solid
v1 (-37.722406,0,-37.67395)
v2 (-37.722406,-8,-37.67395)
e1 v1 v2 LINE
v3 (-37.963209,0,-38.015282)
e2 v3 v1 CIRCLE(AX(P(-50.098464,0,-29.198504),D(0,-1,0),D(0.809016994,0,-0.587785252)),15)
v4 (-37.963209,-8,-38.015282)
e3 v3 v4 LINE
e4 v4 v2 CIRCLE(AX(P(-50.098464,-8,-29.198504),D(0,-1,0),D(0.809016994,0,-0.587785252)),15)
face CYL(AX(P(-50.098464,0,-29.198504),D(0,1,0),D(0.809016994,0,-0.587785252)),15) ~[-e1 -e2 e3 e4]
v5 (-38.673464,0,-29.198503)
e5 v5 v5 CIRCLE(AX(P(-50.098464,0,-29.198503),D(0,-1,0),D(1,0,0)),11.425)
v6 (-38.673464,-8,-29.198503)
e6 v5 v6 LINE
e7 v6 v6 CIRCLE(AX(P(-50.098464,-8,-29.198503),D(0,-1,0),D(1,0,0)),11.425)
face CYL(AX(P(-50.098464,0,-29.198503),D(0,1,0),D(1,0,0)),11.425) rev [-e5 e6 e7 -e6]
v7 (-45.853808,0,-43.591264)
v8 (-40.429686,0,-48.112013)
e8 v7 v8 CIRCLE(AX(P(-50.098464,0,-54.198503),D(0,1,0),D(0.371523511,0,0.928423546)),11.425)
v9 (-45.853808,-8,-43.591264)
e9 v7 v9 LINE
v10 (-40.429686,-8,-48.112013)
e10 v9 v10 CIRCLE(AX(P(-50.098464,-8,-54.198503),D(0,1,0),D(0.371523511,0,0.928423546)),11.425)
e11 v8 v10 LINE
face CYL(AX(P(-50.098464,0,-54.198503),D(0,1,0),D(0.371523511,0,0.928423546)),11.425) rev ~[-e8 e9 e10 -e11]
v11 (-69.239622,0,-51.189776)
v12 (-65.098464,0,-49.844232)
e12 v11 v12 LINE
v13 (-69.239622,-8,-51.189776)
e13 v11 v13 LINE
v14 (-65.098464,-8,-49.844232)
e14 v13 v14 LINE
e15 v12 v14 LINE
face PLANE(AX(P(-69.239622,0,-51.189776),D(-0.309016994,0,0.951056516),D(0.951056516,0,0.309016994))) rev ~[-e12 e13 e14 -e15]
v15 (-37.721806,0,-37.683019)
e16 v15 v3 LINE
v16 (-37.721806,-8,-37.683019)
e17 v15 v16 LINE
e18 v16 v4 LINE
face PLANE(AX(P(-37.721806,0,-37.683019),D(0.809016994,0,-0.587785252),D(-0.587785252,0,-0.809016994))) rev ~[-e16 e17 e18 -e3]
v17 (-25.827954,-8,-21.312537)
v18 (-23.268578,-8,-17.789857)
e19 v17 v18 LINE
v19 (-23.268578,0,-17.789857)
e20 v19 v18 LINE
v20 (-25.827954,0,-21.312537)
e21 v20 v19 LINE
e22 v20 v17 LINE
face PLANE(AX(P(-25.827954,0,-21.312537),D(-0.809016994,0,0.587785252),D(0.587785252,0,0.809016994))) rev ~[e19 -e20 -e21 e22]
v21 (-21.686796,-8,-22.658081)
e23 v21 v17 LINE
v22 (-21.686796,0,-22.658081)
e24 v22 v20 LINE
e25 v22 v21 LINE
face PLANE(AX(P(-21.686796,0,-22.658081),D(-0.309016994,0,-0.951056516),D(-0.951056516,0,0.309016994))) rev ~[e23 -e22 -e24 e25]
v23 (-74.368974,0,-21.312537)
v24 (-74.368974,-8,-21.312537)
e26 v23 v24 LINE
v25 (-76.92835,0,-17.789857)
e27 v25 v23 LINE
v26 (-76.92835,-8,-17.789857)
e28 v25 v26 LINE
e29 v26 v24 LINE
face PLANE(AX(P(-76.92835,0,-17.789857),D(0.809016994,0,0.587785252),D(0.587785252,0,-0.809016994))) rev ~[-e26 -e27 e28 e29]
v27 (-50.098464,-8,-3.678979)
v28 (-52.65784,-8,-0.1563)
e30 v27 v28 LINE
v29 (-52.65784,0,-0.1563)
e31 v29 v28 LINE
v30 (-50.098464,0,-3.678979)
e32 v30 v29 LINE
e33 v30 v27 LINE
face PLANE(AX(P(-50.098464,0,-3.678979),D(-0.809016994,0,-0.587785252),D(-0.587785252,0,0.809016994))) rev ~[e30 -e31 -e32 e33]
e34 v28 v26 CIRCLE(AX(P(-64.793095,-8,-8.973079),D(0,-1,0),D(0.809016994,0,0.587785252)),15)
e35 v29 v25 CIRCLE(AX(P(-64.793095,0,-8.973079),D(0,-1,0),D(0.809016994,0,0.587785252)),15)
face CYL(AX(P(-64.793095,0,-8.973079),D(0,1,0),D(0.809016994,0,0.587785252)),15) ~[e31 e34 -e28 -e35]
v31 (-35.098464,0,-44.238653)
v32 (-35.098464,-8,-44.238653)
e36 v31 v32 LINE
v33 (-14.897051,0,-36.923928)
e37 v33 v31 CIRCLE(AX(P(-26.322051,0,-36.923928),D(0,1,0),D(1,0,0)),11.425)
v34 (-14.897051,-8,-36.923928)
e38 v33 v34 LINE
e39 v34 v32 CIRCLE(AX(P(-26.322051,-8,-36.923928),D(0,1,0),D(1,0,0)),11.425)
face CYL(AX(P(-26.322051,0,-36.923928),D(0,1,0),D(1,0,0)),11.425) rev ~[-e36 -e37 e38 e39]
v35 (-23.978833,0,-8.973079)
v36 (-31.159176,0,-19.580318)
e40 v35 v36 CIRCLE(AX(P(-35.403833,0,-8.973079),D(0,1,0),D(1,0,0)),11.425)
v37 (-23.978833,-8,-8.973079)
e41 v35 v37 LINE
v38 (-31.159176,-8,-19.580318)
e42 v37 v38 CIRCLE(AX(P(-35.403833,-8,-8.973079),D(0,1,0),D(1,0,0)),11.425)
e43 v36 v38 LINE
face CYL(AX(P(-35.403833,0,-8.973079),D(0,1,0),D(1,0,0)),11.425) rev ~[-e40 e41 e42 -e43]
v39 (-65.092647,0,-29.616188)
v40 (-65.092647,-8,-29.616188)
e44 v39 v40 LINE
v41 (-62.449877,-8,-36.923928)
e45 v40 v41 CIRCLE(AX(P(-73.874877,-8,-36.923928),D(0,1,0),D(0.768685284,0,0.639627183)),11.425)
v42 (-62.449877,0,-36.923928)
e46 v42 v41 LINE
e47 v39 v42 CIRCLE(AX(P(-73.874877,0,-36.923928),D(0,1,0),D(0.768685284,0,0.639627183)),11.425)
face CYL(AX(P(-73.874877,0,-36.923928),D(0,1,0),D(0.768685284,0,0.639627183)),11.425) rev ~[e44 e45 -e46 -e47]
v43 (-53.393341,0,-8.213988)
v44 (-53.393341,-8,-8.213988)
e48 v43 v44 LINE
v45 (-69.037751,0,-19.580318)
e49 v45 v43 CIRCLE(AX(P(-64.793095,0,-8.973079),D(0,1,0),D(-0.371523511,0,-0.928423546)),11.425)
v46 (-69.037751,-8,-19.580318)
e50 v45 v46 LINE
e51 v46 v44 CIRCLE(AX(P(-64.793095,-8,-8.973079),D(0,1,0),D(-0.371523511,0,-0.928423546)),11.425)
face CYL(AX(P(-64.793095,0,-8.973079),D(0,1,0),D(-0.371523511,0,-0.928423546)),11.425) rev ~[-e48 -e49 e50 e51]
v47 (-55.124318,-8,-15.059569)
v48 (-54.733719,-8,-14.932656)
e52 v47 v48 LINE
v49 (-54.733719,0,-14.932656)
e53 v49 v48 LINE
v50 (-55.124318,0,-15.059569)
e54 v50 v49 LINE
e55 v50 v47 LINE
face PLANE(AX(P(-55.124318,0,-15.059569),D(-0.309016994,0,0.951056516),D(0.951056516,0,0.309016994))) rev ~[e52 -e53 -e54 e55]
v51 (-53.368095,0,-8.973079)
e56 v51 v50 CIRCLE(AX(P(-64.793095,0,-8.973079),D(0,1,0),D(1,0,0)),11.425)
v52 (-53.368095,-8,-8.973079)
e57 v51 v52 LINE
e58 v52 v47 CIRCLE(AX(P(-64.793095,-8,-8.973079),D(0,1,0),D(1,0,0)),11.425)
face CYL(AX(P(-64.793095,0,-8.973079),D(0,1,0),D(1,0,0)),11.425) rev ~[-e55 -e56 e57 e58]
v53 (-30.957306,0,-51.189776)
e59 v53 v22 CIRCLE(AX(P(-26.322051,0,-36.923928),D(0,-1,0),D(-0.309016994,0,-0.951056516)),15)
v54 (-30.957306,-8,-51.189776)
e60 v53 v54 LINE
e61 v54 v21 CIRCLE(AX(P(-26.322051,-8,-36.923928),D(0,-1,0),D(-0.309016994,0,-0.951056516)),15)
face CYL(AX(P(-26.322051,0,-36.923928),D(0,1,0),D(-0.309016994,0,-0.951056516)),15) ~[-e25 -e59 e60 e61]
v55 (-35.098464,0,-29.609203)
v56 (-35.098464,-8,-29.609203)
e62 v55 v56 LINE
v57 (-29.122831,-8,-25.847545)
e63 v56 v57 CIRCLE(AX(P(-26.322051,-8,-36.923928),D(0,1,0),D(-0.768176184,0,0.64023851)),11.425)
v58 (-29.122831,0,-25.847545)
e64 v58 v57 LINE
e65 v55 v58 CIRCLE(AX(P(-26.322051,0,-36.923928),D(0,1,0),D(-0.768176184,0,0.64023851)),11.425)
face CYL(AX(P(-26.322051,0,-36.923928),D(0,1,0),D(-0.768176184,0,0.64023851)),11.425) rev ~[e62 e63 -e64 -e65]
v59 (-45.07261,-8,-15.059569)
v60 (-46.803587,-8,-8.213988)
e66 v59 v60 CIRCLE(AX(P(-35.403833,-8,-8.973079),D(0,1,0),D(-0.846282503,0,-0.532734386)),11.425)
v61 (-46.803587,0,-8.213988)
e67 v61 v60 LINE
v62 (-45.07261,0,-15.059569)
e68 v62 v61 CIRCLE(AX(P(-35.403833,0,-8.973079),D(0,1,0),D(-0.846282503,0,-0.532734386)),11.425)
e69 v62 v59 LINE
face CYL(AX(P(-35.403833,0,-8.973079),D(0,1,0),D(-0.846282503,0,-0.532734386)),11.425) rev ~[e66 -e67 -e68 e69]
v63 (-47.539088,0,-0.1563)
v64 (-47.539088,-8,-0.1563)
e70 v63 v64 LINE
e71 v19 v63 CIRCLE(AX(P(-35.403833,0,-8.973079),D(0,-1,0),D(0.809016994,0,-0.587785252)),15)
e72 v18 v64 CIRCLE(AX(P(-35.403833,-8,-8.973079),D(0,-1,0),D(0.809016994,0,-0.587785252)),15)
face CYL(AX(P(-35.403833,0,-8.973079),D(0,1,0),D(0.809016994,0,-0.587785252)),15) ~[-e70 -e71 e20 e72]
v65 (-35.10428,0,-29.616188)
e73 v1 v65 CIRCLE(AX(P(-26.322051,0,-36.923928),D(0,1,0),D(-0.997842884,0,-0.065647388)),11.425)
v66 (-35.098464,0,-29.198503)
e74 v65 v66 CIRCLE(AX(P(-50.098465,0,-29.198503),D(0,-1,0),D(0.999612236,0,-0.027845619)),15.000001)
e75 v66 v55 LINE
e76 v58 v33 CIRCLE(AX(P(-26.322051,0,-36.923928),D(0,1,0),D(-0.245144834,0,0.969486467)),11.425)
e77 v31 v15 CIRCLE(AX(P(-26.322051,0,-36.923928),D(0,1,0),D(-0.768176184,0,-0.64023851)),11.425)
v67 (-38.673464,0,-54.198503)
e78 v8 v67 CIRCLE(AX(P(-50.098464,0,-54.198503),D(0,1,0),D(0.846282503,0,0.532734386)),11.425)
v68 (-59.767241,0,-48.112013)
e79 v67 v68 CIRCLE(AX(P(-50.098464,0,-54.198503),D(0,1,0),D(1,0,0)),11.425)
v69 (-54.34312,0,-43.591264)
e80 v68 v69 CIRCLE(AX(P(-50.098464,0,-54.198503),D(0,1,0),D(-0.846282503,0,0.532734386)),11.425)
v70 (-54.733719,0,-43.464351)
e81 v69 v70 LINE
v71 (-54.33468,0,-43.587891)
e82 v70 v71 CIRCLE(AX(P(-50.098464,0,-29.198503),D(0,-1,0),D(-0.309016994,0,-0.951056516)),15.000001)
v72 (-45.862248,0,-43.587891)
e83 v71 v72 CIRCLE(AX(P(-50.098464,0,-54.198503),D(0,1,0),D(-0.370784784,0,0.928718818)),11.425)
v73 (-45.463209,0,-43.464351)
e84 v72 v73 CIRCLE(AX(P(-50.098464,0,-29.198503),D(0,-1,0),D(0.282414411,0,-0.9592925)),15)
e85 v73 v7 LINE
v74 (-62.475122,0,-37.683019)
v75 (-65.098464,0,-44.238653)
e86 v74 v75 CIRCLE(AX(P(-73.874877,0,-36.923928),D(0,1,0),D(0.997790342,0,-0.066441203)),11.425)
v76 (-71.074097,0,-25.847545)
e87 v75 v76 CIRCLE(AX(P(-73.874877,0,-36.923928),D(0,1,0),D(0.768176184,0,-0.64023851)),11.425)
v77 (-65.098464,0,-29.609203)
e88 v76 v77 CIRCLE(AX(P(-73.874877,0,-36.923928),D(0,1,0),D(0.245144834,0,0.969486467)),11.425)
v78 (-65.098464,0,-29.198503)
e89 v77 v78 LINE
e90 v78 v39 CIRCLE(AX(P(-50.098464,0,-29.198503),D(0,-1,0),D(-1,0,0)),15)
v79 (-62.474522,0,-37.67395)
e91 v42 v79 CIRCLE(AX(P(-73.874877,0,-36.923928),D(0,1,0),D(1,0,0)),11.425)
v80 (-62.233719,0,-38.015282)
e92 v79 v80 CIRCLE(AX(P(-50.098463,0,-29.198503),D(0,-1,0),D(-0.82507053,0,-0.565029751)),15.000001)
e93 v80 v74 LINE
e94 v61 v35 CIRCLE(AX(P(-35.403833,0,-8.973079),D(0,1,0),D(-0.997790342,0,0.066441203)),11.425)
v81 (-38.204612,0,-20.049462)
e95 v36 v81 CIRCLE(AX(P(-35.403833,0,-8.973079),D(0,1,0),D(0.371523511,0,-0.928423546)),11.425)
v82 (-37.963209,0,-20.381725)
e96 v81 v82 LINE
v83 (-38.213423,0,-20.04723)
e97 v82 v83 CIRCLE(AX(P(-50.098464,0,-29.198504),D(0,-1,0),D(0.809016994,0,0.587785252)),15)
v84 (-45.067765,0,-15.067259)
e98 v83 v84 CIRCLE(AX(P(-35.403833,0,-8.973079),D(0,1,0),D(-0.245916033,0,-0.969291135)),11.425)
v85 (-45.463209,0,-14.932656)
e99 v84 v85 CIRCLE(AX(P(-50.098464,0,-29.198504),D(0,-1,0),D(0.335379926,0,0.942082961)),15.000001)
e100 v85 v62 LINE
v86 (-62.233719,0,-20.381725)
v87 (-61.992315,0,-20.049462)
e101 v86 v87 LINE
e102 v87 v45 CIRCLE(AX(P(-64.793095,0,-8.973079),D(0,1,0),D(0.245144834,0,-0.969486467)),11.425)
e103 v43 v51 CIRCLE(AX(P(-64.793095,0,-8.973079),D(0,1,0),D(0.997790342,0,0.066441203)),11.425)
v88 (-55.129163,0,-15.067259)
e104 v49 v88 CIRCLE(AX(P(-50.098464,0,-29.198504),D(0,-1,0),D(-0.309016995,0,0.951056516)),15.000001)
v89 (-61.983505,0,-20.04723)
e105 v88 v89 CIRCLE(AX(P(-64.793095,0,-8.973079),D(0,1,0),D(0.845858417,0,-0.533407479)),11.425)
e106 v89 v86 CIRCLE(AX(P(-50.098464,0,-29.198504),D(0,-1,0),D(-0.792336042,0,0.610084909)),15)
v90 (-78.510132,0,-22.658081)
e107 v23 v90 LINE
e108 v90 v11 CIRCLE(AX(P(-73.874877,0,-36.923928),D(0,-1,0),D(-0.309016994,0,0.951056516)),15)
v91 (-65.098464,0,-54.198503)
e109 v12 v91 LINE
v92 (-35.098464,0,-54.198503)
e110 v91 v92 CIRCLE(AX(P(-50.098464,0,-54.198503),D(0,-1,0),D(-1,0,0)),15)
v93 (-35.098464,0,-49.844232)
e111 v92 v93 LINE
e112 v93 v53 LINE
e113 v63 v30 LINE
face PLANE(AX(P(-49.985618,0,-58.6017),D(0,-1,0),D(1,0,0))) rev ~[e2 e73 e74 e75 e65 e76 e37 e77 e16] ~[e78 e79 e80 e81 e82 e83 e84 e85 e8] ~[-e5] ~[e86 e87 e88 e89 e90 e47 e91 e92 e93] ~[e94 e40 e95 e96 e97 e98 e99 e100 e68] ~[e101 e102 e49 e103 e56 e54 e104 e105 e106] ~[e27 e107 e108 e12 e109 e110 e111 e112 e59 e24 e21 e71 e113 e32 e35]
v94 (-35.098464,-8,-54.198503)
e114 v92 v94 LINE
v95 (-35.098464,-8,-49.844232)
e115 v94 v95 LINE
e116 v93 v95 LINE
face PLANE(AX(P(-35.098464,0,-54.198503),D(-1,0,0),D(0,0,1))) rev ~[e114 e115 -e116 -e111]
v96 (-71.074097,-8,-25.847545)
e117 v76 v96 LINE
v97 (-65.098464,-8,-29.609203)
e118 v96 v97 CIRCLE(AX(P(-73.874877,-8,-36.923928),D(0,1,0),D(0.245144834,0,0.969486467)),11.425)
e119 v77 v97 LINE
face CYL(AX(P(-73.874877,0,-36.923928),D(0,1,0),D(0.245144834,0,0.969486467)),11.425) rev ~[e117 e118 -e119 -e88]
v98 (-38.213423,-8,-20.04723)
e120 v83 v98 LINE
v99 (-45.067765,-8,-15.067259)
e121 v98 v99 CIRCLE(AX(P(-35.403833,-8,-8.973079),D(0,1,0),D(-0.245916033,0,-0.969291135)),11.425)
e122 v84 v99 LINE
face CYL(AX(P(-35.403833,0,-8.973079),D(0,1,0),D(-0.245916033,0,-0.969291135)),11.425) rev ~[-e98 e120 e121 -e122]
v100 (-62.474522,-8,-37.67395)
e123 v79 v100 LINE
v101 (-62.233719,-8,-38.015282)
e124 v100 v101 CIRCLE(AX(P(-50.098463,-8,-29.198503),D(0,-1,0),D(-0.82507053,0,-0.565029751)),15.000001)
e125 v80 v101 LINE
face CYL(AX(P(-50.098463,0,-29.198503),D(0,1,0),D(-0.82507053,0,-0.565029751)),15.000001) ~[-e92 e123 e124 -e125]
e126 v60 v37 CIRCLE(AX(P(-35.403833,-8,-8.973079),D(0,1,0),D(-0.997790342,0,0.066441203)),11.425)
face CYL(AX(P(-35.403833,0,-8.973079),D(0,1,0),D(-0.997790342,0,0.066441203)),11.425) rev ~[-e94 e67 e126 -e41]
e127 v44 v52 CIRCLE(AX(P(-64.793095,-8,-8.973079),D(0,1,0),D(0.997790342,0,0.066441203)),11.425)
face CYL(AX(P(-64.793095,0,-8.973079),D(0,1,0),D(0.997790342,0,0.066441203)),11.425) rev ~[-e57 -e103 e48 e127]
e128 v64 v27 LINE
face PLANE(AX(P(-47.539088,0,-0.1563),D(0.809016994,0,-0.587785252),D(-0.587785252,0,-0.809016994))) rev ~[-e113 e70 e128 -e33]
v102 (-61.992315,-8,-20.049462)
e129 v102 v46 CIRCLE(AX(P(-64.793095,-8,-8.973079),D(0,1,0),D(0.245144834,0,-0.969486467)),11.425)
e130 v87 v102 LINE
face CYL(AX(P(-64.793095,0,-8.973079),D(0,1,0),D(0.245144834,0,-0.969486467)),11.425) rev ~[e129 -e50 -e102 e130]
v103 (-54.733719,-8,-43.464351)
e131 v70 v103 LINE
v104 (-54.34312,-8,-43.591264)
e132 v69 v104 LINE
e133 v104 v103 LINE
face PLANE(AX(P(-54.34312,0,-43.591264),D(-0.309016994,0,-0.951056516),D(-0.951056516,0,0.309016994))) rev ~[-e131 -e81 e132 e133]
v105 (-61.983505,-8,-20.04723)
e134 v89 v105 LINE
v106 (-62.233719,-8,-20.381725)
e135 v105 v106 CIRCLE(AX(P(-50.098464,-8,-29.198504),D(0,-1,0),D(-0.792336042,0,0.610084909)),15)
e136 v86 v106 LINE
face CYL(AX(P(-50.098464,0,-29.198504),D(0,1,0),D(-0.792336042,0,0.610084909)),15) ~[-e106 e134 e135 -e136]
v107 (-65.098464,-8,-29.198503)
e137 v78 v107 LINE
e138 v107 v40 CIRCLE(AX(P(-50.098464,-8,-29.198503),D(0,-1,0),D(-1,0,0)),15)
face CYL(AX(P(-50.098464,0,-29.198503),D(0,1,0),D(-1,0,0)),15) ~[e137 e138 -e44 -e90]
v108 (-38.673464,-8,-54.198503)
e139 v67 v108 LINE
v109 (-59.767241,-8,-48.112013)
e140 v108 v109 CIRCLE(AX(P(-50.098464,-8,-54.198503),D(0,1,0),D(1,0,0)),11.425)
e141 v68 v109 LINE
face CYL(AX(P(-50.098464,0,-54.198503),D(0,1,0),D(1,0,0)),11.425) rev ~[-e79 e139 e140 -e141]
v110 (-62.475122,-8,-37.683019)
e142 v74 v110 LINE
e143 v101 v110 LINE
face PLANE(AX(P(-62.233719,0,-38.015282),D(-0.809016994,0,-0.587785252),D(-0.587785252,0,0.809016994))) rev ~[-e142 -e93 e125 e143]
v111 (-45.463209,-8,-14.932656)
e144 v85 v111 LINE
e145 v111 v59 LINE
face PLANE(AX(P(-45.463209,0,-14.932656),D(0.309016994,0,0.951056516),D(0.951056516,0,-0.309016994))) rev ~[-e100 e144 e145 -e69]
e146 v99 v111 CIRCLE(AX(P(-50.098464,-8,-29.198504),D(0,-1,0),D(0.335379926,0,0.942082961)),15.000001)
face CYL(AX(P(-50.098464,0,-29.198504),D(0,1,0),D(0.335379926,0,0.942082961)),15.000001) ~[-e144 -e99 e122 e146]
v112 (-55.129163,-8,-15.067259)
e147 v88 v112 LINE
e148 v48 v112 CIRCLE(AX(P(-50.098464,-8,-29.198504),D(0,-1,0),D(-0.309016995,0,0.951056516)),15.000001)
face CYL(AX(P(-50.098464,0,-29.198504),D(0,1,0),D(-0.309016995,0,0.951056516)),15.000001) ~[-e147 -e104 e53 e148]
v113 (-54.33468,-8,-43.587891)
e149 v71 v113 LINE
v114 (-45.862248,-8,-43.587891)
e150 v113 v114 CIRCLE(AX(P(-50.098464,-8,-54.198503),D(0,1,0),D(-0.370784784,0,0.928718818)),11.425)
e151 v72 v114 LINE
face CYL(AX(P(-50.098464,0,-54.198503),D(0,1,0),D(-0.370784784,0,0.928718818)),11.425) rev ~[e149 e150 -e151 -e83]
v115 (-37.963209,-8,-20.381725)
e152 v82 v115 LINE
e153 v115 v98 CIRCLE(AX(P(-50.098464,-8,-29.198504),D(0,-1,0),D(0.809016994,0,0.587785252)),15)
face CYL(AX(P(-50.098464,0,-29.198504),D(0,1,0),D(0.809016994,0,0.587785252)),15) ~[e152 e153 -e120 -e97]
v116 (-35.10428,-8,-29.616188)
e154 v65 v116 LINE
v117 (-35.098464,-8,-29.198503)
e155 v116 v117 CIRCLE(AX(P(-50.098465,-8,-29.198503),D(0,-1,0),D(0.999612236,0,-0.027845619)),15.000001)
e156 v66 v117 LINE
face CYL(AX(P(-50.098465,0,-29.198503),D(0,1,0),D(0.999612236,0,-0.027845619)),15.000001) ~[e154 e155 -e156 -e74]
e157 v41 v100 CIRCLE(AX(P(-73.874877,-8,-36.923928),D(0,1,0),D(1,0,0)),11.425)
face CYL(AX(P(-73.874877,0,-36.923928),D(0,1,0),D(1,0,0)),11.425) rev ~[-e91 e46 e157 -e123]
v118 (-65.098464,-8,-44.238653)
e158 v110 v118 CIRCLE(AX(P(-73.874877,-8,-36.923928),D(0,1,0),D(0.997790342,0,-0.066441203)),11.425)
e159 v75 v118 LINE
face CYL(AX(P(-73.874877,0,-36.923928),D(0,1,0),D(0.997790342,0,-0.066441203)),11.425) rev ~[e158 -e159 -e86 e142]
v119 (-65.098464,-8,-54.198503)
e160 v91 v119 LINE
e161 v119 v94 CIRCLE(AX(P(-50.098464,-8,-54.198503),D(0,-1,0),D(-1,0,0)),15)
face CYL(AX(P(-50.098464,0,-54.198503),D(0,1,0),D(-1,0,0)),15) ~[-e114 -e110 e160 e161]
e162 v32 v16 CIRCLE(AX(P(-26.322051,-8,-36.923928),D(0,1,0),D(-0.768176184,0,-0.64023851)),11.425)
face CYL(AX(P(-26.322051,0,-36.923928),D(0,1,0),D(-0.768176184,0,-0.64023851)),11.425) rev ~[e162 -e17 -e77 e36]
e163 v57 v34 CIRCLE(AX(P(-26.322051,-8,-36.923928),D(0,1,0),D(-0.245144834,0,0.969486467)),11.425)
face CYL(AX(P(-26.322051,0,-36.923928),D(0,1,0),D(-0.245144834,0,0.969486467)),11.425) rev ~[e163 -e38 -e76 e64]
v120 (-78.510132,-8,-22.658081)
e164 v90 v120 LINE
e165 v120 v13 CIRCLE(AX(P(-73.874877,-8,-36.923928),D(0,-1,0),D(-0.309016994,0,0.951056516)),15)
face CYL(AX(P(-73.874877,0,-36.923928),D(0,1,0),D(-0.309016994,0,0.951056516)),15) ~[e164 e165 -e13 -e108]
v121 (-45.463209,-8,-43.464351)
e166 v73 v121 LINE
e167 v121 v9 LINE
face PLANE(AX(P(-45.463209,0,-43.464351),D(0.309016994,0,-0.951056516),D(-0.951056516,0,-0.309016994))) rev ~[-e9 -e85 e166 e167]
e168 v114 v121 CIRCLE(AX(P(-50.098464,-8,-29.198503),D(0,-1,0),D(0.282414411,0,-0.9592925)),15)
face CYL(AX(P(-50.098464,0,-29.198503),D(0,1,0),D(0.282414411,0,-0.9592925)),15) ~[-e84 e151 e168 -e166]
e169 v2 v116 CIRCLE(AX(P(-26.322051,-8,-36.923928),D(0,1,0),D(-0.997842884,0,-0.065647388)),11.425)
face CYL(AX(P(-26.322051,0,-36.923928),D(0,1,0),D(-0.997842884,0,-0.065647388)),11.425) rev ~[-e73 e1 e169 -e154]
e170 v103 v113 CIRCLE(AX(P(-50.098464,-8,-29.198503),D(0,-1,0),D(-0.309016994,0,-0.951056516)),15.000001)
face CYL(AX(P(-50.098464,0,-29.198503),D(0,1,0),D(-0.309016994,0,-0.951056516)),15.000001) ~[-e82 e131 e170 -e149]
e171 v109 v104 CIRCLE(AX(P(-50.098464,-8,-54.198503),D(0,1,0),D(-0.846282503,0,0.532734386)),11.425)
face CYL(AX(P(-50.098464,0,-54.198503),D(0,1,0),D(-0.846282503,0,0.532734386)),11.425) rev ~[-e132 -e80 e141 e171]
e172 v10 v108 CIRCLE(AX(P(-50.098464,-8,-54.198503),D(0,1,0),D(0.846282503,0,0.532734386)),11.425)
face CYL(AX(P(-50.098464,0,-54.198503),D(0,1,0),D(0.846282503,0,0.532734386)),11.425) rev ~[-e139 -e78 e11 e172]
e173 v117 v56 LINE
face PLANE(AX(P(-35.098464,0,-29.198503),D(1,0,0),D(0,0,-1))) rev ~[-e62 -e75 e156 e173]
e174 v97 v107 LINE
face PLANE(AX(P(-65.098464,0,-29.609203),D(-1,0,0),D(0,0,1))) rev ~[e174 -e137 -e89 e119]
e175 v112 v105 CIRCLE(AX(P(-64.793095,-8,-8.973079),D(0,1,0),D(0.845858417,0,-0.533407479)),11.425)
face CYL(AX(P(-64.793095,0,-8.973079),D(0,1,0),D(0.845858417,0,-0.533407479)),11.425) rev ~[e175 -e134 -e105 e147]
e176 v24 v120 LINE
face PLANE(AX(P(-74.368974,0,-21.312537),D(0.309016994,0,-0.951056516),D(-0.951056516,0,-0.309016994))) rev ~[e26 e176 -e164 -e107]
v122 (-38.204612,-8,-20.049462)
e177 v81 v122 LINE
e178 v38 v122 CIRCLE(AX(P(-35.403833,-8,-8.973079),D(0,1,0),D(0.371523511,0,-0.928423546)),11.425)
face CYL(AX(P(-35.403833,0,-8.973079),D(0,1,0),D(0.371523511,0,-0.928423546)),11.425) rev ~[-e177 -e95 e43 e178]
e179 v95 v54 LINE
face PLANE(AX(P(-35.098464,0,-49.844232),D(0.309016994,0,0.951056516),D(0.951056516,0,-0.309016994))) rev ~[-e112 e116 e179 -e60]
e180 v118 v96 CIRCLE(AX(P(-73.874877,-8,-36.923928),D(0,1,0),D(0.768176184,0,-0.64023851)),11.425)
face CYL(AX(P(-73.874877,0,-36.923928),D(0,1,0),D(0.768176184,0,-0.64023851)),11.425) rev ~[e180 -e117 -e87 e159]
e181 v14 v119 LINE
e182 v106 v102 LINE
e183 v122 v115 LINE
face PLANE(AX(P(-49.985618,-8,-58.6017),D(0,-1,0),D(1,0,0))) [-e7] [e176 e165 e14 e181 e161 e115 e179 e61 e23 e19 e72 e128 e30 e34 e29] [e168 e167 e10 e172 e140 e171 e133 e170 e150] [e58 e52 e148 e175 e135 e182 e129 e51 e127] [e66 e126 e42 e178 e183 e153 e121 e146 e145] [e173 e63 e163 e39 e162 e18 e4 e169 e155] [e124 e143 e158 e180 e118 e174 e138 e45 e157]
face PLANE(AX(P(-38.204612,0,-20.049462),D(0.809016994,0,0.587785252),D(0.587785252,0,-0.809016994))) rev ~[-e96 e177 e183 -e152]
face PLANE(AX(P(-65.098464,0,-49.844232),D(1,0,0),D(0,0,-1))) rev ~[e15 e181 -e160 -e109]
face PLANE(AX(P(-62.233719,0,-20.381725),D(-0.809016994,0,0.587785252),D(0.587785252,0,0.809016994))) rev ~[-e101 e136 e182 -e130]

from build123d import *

# Parameters (mm, degrees)
F0_R     = 11.425
F1_DEPTH = 8


with BuildPart() as f1:
    # F0 (on Front) → F1 (new body)
    with BuildSketch(Plane.XZ):
        with BuildLine():
            ThreePointArc((-40.4296863013, -48.1120131359), (-39.1212964763, -51.0311038498), (-38.6734638929, -54.1985034943))
            ThreePointArc((-38.6734638929, -54.1985034943), (-53.2658635374, -65.1756709109), (-59.7672414846, -48.1120131359))
            Line((-59.7672414846, -48.1120131359), (-65.0984638929, -49.8442323013))
            Line((-65.0984638929, -49.8442323013), (-65.0984638929, -54.1985034943))
            ThreePointArc((-65.0984638929, -54.1985034943), (-50.0984638929, -69.1985034943), (-35.0984638929, -54.1985034943))
            Line((-35.0984638929, -54.1985034943), (-35.0984638929, -49.8442323013))
            Line((-35.0984638929, -49.8442323013), (-40.4296863013, -48.1120131359))
        make_face()
        with BuildLine():
            ThreePointArc((-45.8538077773, -43.5912644821), (-42.7837389166, -45.4220905869), (-40.4296863013, -48.1120131359))
            Line((-40.4296863013, -48.1120131359), (-35.0984638929, -49.8442323013))
            Line((-35.0984638929, -49.8442323013), (-35.0984638929, -44.23865333))
            ThreePointArc((-35.0984638929, -44.23865333), (-36.9292899977, -41.1685844692), (-37.7218056429, -37.6830190937))
            Line((-37.7218056429, -37.6830190937), (-37.9632089773, -38.0152822786))
            ThreePointArc((-37.9632089773, -38.0152822786), (-41.2816851085, -41.3337584099), (-45.4632089773, -43.4643512387))
            Line((-45.4632089773, -43.4643512387), (-45.8538077773, -43.5912644821))
        make_face()
        with BuildLine():
            Line((-65.0984638929, -49.8442323013), (-59.7672414846, -48.1120131359))
            ThreePointArc((-59.7672414846, -48.1120131359), (-57.4131888693, -45.4220905869), (-54.3431200085, -43.5912644821))
            Line((-54.3431200085, -43.5912644821), (-54.7337188086, -43.4643512387))
            ThreePointArc((-54.7337188086, -43.4643512387), (-58.9152426773, -41.3337584099), (-62.2337188086, -38.0152822786))
            Line((-62.2337188086, -38.0152822786), (-62.4751221429, -37.6830190937))
            ThreePointArc((-62.4751221429, -37.6830190937), (-63.2676377882, -41.1685844692), (-65.0984638929, -44.23865333))
            Line((-65.0984638929, -44.23865333), (-65.0984638929, -49.8442323013))
        make_face()
        with BuildLine():
            Line((-35.0984638929, -44.23865333), (-35.0984638929, -49.8442323013))
            Line((-35.0984638929, -49.8442323013), (-30.9573059012, -51.1897760981))
            ThreePointArc((-30.9573059012, -51.1897760981), (-12.0562032411, -41.5591832693), (-21.6867960699, -22.6580806092))
            Line((-21.6867960699, -22.6580806092), (-25.8279540617, -21.3125368125))
            Line((-25.8279540617, -21.3125368125), (-29.1228307116, -25.8475454636))
            ThreePointArc((-29.1228307116, -25.8475454636), (-19.3030867945, -27.9092310939), (-14.8970509856, -36.9239283536))
            ThreePointArc((-14.8970509856, -36.9239283536), (-22.4323140065, -47.6663941429), (-35.0984638929, -44.23865333))
        make_face()
        with BuildLine():
            Line((-69.2396218847, -51.1897760981), (-65.0984638929, -49.8442323013))
            Line((-65.0984638929, -49.8442323013), (-65.0984638929, -44.23865333))
            ThreePointArc((-65.0984638929, -44.23865333), (-84.740697499, -40.4544475144), (-71.0740970743, -25.8475454636))
            Line((-71.0740970743, -25.8475454636), (-74.3689737242, -21.3125368125))
            Line((-74.3689737242, -21.3125368125), (-78.5101317159, -22.6580806092))
            ThreePointArc((-78.5101317159, -22.6580806092), (-88.1407245447, -41.5591832693), (-69.2396218847, -51.1897760981))
        make_face()
        with BuildLine():
            Line((-74.3689737242, -21.3125368125), (-71.0740970743, -25.8475454636))
            ThreePointArc((-71.0740970743, -25.8475454636), (-67.7883864419, -27.255150762), (-65.0984638929, -29.6092033773))
            Line((-65.0984638929, -29.6092033773), (-65.0984638929, -29.1985034943))
            ThreePointArc((-65.0984638929, -29.1985034943), (-64.3643116374, -24.5632485786), (-62.2337188086, -20.3817247099))
            Line((-62.2337188086, -20.3817247099), (-61.9923154742, -20.0494615249))
            ThreePointArc((-61.9923154742, -20.0494615249), (-65.5521859403, -20.3728332923), (-69.0377513159, -19.580317647))
            Line((-69.0377513159, -19.580317647), (-74.3689737242, -21.3125368125))
        make_face()
        with BuildLine():
            Line((-35.0984638929, -29.1985034943), (-35.0984638929, -29.6092033773))
            ThreePointArc((-35.0984638929, -29.6092033773), (-32.408541344, -27.255150762), (-29.1228307116, -25.8475454636))
            Line((-29.1228307116, -25.8475454636), (-25.8279540617, -21.3125368125))
            Line((-25.8279540617, -21.3125368125), (-31.15917647, -19.580317647))
            ThreePointArc((-31.15917647, -19.580317647), (-34.6447418456, -20.3728332923), (-38.2046123117, -20.0494615249))
            Line((-38.2046123117, -20.0494615249), (-37.9632089773, -20.3817247099))
            ThreePointArc((-37.9632089773, -20.3817247099), (-35.8326161485, -24.5632485786), (-35.0984638929, -29.1985034943))
        make_face()
        with BuildLine():
            Line((-31.15917647, -19.580317647), (-25.8279540617, -21.3125368125))
            Line((-25.8279540617, -21.3125368125), (-23.26857767, -17.7898574193))
            ThreePointArc((-23.26857767, -17.7898574193), (-26.5870538012, 3.1621762807), (-47.5390875012, -0.1562998505))
            Line((-47.5390875012, -0.1562998505), (-50.0984638929, -3.6789792437))
            Line((-50.0984638929, -3.6789792437), (-46.803587243, -8.2139878949))
            ThreePointArc((-46.803587243, -8.2139878949), (-35.0240773753, 2.4456082853), (-23.9788325856, -8.9730786349))
            ThreePointArc((-23.9788325856, -8.9730786349), (-25.9427063017, -15.3775859883), (-31.15917647, -19.580317647))
        make_face()
        with BuildLine():
            Line((-76.9283501159, -17.7898574193), (-74.3689737242, -21.3125368125))
            Line((-74.3689737242, -21.3125368125), (-69.0377513159, -19.580317647))
            ThreePointArc((-69.0377513159, -19.580317647), (-71.5085417077, 0.2699405258), (-53.3933405429, -8.2139878949))
            Line((-53.3933405429, -8.2139878949), (-50.0984638929, -3.6789792437))
            Line((-50.0984638929, -3.6789792437), (-52.6578402846, -0.1562998505))
            ThreePointArc((-52.6578402846, -0.1562998505), (-73.6098739846, 3.1621762807), (-76.9283501159, -17.7898574193))
        make_face()
        with BuildLine():
            Line((-50.0984638929, -3.6789792437), (-53.3933405429, -8.2139878949))
            ThreePointArc((-53.3933405429, -8.2139878949), (-53.3744082801, -8.5933234246), (-53.3680952002, -8.9730786349))
            ThreePointArc((-53.3680952002, -8.9730786349), (-53.8159277836, -12.1404782793), (-55.1243176086, -15.0595689933))
            Line((-55.1243176086, -15.0595689933), (-54.7337188086, -14.9326557498))
            ThreePointArc((-54.7337188086, -14.9326557498), (-50.0984638929, -14.1985034943), (-45.4632089773, -14.9326557498))
            Line((-45.4632089773, -14.9326557498), (-45.0726101773, -15.0595689933))
            ThreePointArc((-45.0726101773, -15.0595689933), (-46.4802154756, -11.773858361), (-46.803587243, -8.2139878949))
            Line((-46.803587243, -8.2139878949), (-50.0984638929, -3.6789792437))
        make_face()
        with BuildLine():
            ThreePointArc((-54.3346800554, -43.5878909943), (-50.0984638929, -42.7735034943), (-45.8622477305, -43.5878909943))
            ThreePointArc((-45.8622477305, -43.5878909943), (-45.6622982862, -43.5275102536), (-45.4632089773, -43.4643512387))
            ThreePointArc((-45.4632089773, -43.4643512387), (-41.2816851085, -41.3337584099), (-37.9632089773, -38.0152822786))
            ThreePointArc((-37.9632089773, -38.0152822786), (-37.8416192047, -37.845454303), (-37.7224059316, -37.6739497561))
            ThreePointArc((-37.7224059316, -37.6739497561), (-37.1878716842, -33.3934091929), (-35.1042803595, -29.6161877847))
            ThreePointArc((-35.1042803595, -29.6161877847), (-35.0999180801, -29.4073658878), (-35.0984638929, -29.1985034943))
            ThreePointArc((-35.0984638929, -29.1985034943), (-35.8326161485, -24.5632485786), (-37.9632089773, -20.3817247099))
            ThreePointArc((-37.9632089773, -20.3817247099), (-38.0871516741, -20.2136062338), (-38.2134232637, -20.0472298539))
            ThreePointArc((-38.2134232637, -20.0472298539), (-42.1192790931, -18.2160977956), (-45.0677649982, -15.0672590823))
            ThreePointArc((-45.0677649982, -15.0672590823), (-45.2650184055, -14.9985807931), (-45.4632089773, -14.9326557498))
            ThreePointArc((-45.4632089773, -14.9326557498), (-50.0984638929, -14.1985034943), (-54.7337188086, -14.9326557498))
            ThreePointArc((-54.7337188086, -14.9326557498), (-54.9319093804, -14.9985807931), (-55.1291627877, -15.0672590823))
            ThreePointArc((-55.1291627877, -15.0672590823), (-58.0776486928, -18.2160977956), (-61.9835045222, -20.0472298539))
            ThreePointArc((-61.9835045222, -20.0472298539), (-62.1097761118, -20.2136062338), (-62.2337188086, -20.3817247099))
            ThreePointArc((-62.2337188086, -20.3817247099), (-64.3643116374, -24.5632485786), (-65.0984638929, -29.1985034943))
            ThreePointArc((-65.0984638929, -29.1985034943), (-65.0970097058, -29.4073658878), (-65.0926474263, -29.6161877847))
            ThreePointArc((-65.0926474263, -29.6161877847), (-63.1308646168, -33.0384647775), (-62.4498768003, -36.9239283536))
            ThreePointArc((-62.4498768003, -36.9239283536), (-62.456039726, -37.299141454), (-62.4745218543, -37.6739497561))
            ThreePointArc((-62.4745218543, -37.6739497561), (-62.3553085811, -37.845454303), (-62.2337188086, -38.0152822786))
            ThreePointArc((-62.2337188086, -38.0152822786), (-58.9152426773, -41.3337584099), (-54.7337188086, -43.4643512387))
            ThreePointArc((-54.7337188086, -43.4643512387), (-54.5346294996, -43.5275102536), (-54.3346800554, -43.5878909943))
        make_face()
        with Locations((-50.0984638929, -29.1985034943)):
            Circle(F0_R, mode=Mode.SUBTRACT)
    extrude(amount=F1_DEPTH)


solid = f1.part
